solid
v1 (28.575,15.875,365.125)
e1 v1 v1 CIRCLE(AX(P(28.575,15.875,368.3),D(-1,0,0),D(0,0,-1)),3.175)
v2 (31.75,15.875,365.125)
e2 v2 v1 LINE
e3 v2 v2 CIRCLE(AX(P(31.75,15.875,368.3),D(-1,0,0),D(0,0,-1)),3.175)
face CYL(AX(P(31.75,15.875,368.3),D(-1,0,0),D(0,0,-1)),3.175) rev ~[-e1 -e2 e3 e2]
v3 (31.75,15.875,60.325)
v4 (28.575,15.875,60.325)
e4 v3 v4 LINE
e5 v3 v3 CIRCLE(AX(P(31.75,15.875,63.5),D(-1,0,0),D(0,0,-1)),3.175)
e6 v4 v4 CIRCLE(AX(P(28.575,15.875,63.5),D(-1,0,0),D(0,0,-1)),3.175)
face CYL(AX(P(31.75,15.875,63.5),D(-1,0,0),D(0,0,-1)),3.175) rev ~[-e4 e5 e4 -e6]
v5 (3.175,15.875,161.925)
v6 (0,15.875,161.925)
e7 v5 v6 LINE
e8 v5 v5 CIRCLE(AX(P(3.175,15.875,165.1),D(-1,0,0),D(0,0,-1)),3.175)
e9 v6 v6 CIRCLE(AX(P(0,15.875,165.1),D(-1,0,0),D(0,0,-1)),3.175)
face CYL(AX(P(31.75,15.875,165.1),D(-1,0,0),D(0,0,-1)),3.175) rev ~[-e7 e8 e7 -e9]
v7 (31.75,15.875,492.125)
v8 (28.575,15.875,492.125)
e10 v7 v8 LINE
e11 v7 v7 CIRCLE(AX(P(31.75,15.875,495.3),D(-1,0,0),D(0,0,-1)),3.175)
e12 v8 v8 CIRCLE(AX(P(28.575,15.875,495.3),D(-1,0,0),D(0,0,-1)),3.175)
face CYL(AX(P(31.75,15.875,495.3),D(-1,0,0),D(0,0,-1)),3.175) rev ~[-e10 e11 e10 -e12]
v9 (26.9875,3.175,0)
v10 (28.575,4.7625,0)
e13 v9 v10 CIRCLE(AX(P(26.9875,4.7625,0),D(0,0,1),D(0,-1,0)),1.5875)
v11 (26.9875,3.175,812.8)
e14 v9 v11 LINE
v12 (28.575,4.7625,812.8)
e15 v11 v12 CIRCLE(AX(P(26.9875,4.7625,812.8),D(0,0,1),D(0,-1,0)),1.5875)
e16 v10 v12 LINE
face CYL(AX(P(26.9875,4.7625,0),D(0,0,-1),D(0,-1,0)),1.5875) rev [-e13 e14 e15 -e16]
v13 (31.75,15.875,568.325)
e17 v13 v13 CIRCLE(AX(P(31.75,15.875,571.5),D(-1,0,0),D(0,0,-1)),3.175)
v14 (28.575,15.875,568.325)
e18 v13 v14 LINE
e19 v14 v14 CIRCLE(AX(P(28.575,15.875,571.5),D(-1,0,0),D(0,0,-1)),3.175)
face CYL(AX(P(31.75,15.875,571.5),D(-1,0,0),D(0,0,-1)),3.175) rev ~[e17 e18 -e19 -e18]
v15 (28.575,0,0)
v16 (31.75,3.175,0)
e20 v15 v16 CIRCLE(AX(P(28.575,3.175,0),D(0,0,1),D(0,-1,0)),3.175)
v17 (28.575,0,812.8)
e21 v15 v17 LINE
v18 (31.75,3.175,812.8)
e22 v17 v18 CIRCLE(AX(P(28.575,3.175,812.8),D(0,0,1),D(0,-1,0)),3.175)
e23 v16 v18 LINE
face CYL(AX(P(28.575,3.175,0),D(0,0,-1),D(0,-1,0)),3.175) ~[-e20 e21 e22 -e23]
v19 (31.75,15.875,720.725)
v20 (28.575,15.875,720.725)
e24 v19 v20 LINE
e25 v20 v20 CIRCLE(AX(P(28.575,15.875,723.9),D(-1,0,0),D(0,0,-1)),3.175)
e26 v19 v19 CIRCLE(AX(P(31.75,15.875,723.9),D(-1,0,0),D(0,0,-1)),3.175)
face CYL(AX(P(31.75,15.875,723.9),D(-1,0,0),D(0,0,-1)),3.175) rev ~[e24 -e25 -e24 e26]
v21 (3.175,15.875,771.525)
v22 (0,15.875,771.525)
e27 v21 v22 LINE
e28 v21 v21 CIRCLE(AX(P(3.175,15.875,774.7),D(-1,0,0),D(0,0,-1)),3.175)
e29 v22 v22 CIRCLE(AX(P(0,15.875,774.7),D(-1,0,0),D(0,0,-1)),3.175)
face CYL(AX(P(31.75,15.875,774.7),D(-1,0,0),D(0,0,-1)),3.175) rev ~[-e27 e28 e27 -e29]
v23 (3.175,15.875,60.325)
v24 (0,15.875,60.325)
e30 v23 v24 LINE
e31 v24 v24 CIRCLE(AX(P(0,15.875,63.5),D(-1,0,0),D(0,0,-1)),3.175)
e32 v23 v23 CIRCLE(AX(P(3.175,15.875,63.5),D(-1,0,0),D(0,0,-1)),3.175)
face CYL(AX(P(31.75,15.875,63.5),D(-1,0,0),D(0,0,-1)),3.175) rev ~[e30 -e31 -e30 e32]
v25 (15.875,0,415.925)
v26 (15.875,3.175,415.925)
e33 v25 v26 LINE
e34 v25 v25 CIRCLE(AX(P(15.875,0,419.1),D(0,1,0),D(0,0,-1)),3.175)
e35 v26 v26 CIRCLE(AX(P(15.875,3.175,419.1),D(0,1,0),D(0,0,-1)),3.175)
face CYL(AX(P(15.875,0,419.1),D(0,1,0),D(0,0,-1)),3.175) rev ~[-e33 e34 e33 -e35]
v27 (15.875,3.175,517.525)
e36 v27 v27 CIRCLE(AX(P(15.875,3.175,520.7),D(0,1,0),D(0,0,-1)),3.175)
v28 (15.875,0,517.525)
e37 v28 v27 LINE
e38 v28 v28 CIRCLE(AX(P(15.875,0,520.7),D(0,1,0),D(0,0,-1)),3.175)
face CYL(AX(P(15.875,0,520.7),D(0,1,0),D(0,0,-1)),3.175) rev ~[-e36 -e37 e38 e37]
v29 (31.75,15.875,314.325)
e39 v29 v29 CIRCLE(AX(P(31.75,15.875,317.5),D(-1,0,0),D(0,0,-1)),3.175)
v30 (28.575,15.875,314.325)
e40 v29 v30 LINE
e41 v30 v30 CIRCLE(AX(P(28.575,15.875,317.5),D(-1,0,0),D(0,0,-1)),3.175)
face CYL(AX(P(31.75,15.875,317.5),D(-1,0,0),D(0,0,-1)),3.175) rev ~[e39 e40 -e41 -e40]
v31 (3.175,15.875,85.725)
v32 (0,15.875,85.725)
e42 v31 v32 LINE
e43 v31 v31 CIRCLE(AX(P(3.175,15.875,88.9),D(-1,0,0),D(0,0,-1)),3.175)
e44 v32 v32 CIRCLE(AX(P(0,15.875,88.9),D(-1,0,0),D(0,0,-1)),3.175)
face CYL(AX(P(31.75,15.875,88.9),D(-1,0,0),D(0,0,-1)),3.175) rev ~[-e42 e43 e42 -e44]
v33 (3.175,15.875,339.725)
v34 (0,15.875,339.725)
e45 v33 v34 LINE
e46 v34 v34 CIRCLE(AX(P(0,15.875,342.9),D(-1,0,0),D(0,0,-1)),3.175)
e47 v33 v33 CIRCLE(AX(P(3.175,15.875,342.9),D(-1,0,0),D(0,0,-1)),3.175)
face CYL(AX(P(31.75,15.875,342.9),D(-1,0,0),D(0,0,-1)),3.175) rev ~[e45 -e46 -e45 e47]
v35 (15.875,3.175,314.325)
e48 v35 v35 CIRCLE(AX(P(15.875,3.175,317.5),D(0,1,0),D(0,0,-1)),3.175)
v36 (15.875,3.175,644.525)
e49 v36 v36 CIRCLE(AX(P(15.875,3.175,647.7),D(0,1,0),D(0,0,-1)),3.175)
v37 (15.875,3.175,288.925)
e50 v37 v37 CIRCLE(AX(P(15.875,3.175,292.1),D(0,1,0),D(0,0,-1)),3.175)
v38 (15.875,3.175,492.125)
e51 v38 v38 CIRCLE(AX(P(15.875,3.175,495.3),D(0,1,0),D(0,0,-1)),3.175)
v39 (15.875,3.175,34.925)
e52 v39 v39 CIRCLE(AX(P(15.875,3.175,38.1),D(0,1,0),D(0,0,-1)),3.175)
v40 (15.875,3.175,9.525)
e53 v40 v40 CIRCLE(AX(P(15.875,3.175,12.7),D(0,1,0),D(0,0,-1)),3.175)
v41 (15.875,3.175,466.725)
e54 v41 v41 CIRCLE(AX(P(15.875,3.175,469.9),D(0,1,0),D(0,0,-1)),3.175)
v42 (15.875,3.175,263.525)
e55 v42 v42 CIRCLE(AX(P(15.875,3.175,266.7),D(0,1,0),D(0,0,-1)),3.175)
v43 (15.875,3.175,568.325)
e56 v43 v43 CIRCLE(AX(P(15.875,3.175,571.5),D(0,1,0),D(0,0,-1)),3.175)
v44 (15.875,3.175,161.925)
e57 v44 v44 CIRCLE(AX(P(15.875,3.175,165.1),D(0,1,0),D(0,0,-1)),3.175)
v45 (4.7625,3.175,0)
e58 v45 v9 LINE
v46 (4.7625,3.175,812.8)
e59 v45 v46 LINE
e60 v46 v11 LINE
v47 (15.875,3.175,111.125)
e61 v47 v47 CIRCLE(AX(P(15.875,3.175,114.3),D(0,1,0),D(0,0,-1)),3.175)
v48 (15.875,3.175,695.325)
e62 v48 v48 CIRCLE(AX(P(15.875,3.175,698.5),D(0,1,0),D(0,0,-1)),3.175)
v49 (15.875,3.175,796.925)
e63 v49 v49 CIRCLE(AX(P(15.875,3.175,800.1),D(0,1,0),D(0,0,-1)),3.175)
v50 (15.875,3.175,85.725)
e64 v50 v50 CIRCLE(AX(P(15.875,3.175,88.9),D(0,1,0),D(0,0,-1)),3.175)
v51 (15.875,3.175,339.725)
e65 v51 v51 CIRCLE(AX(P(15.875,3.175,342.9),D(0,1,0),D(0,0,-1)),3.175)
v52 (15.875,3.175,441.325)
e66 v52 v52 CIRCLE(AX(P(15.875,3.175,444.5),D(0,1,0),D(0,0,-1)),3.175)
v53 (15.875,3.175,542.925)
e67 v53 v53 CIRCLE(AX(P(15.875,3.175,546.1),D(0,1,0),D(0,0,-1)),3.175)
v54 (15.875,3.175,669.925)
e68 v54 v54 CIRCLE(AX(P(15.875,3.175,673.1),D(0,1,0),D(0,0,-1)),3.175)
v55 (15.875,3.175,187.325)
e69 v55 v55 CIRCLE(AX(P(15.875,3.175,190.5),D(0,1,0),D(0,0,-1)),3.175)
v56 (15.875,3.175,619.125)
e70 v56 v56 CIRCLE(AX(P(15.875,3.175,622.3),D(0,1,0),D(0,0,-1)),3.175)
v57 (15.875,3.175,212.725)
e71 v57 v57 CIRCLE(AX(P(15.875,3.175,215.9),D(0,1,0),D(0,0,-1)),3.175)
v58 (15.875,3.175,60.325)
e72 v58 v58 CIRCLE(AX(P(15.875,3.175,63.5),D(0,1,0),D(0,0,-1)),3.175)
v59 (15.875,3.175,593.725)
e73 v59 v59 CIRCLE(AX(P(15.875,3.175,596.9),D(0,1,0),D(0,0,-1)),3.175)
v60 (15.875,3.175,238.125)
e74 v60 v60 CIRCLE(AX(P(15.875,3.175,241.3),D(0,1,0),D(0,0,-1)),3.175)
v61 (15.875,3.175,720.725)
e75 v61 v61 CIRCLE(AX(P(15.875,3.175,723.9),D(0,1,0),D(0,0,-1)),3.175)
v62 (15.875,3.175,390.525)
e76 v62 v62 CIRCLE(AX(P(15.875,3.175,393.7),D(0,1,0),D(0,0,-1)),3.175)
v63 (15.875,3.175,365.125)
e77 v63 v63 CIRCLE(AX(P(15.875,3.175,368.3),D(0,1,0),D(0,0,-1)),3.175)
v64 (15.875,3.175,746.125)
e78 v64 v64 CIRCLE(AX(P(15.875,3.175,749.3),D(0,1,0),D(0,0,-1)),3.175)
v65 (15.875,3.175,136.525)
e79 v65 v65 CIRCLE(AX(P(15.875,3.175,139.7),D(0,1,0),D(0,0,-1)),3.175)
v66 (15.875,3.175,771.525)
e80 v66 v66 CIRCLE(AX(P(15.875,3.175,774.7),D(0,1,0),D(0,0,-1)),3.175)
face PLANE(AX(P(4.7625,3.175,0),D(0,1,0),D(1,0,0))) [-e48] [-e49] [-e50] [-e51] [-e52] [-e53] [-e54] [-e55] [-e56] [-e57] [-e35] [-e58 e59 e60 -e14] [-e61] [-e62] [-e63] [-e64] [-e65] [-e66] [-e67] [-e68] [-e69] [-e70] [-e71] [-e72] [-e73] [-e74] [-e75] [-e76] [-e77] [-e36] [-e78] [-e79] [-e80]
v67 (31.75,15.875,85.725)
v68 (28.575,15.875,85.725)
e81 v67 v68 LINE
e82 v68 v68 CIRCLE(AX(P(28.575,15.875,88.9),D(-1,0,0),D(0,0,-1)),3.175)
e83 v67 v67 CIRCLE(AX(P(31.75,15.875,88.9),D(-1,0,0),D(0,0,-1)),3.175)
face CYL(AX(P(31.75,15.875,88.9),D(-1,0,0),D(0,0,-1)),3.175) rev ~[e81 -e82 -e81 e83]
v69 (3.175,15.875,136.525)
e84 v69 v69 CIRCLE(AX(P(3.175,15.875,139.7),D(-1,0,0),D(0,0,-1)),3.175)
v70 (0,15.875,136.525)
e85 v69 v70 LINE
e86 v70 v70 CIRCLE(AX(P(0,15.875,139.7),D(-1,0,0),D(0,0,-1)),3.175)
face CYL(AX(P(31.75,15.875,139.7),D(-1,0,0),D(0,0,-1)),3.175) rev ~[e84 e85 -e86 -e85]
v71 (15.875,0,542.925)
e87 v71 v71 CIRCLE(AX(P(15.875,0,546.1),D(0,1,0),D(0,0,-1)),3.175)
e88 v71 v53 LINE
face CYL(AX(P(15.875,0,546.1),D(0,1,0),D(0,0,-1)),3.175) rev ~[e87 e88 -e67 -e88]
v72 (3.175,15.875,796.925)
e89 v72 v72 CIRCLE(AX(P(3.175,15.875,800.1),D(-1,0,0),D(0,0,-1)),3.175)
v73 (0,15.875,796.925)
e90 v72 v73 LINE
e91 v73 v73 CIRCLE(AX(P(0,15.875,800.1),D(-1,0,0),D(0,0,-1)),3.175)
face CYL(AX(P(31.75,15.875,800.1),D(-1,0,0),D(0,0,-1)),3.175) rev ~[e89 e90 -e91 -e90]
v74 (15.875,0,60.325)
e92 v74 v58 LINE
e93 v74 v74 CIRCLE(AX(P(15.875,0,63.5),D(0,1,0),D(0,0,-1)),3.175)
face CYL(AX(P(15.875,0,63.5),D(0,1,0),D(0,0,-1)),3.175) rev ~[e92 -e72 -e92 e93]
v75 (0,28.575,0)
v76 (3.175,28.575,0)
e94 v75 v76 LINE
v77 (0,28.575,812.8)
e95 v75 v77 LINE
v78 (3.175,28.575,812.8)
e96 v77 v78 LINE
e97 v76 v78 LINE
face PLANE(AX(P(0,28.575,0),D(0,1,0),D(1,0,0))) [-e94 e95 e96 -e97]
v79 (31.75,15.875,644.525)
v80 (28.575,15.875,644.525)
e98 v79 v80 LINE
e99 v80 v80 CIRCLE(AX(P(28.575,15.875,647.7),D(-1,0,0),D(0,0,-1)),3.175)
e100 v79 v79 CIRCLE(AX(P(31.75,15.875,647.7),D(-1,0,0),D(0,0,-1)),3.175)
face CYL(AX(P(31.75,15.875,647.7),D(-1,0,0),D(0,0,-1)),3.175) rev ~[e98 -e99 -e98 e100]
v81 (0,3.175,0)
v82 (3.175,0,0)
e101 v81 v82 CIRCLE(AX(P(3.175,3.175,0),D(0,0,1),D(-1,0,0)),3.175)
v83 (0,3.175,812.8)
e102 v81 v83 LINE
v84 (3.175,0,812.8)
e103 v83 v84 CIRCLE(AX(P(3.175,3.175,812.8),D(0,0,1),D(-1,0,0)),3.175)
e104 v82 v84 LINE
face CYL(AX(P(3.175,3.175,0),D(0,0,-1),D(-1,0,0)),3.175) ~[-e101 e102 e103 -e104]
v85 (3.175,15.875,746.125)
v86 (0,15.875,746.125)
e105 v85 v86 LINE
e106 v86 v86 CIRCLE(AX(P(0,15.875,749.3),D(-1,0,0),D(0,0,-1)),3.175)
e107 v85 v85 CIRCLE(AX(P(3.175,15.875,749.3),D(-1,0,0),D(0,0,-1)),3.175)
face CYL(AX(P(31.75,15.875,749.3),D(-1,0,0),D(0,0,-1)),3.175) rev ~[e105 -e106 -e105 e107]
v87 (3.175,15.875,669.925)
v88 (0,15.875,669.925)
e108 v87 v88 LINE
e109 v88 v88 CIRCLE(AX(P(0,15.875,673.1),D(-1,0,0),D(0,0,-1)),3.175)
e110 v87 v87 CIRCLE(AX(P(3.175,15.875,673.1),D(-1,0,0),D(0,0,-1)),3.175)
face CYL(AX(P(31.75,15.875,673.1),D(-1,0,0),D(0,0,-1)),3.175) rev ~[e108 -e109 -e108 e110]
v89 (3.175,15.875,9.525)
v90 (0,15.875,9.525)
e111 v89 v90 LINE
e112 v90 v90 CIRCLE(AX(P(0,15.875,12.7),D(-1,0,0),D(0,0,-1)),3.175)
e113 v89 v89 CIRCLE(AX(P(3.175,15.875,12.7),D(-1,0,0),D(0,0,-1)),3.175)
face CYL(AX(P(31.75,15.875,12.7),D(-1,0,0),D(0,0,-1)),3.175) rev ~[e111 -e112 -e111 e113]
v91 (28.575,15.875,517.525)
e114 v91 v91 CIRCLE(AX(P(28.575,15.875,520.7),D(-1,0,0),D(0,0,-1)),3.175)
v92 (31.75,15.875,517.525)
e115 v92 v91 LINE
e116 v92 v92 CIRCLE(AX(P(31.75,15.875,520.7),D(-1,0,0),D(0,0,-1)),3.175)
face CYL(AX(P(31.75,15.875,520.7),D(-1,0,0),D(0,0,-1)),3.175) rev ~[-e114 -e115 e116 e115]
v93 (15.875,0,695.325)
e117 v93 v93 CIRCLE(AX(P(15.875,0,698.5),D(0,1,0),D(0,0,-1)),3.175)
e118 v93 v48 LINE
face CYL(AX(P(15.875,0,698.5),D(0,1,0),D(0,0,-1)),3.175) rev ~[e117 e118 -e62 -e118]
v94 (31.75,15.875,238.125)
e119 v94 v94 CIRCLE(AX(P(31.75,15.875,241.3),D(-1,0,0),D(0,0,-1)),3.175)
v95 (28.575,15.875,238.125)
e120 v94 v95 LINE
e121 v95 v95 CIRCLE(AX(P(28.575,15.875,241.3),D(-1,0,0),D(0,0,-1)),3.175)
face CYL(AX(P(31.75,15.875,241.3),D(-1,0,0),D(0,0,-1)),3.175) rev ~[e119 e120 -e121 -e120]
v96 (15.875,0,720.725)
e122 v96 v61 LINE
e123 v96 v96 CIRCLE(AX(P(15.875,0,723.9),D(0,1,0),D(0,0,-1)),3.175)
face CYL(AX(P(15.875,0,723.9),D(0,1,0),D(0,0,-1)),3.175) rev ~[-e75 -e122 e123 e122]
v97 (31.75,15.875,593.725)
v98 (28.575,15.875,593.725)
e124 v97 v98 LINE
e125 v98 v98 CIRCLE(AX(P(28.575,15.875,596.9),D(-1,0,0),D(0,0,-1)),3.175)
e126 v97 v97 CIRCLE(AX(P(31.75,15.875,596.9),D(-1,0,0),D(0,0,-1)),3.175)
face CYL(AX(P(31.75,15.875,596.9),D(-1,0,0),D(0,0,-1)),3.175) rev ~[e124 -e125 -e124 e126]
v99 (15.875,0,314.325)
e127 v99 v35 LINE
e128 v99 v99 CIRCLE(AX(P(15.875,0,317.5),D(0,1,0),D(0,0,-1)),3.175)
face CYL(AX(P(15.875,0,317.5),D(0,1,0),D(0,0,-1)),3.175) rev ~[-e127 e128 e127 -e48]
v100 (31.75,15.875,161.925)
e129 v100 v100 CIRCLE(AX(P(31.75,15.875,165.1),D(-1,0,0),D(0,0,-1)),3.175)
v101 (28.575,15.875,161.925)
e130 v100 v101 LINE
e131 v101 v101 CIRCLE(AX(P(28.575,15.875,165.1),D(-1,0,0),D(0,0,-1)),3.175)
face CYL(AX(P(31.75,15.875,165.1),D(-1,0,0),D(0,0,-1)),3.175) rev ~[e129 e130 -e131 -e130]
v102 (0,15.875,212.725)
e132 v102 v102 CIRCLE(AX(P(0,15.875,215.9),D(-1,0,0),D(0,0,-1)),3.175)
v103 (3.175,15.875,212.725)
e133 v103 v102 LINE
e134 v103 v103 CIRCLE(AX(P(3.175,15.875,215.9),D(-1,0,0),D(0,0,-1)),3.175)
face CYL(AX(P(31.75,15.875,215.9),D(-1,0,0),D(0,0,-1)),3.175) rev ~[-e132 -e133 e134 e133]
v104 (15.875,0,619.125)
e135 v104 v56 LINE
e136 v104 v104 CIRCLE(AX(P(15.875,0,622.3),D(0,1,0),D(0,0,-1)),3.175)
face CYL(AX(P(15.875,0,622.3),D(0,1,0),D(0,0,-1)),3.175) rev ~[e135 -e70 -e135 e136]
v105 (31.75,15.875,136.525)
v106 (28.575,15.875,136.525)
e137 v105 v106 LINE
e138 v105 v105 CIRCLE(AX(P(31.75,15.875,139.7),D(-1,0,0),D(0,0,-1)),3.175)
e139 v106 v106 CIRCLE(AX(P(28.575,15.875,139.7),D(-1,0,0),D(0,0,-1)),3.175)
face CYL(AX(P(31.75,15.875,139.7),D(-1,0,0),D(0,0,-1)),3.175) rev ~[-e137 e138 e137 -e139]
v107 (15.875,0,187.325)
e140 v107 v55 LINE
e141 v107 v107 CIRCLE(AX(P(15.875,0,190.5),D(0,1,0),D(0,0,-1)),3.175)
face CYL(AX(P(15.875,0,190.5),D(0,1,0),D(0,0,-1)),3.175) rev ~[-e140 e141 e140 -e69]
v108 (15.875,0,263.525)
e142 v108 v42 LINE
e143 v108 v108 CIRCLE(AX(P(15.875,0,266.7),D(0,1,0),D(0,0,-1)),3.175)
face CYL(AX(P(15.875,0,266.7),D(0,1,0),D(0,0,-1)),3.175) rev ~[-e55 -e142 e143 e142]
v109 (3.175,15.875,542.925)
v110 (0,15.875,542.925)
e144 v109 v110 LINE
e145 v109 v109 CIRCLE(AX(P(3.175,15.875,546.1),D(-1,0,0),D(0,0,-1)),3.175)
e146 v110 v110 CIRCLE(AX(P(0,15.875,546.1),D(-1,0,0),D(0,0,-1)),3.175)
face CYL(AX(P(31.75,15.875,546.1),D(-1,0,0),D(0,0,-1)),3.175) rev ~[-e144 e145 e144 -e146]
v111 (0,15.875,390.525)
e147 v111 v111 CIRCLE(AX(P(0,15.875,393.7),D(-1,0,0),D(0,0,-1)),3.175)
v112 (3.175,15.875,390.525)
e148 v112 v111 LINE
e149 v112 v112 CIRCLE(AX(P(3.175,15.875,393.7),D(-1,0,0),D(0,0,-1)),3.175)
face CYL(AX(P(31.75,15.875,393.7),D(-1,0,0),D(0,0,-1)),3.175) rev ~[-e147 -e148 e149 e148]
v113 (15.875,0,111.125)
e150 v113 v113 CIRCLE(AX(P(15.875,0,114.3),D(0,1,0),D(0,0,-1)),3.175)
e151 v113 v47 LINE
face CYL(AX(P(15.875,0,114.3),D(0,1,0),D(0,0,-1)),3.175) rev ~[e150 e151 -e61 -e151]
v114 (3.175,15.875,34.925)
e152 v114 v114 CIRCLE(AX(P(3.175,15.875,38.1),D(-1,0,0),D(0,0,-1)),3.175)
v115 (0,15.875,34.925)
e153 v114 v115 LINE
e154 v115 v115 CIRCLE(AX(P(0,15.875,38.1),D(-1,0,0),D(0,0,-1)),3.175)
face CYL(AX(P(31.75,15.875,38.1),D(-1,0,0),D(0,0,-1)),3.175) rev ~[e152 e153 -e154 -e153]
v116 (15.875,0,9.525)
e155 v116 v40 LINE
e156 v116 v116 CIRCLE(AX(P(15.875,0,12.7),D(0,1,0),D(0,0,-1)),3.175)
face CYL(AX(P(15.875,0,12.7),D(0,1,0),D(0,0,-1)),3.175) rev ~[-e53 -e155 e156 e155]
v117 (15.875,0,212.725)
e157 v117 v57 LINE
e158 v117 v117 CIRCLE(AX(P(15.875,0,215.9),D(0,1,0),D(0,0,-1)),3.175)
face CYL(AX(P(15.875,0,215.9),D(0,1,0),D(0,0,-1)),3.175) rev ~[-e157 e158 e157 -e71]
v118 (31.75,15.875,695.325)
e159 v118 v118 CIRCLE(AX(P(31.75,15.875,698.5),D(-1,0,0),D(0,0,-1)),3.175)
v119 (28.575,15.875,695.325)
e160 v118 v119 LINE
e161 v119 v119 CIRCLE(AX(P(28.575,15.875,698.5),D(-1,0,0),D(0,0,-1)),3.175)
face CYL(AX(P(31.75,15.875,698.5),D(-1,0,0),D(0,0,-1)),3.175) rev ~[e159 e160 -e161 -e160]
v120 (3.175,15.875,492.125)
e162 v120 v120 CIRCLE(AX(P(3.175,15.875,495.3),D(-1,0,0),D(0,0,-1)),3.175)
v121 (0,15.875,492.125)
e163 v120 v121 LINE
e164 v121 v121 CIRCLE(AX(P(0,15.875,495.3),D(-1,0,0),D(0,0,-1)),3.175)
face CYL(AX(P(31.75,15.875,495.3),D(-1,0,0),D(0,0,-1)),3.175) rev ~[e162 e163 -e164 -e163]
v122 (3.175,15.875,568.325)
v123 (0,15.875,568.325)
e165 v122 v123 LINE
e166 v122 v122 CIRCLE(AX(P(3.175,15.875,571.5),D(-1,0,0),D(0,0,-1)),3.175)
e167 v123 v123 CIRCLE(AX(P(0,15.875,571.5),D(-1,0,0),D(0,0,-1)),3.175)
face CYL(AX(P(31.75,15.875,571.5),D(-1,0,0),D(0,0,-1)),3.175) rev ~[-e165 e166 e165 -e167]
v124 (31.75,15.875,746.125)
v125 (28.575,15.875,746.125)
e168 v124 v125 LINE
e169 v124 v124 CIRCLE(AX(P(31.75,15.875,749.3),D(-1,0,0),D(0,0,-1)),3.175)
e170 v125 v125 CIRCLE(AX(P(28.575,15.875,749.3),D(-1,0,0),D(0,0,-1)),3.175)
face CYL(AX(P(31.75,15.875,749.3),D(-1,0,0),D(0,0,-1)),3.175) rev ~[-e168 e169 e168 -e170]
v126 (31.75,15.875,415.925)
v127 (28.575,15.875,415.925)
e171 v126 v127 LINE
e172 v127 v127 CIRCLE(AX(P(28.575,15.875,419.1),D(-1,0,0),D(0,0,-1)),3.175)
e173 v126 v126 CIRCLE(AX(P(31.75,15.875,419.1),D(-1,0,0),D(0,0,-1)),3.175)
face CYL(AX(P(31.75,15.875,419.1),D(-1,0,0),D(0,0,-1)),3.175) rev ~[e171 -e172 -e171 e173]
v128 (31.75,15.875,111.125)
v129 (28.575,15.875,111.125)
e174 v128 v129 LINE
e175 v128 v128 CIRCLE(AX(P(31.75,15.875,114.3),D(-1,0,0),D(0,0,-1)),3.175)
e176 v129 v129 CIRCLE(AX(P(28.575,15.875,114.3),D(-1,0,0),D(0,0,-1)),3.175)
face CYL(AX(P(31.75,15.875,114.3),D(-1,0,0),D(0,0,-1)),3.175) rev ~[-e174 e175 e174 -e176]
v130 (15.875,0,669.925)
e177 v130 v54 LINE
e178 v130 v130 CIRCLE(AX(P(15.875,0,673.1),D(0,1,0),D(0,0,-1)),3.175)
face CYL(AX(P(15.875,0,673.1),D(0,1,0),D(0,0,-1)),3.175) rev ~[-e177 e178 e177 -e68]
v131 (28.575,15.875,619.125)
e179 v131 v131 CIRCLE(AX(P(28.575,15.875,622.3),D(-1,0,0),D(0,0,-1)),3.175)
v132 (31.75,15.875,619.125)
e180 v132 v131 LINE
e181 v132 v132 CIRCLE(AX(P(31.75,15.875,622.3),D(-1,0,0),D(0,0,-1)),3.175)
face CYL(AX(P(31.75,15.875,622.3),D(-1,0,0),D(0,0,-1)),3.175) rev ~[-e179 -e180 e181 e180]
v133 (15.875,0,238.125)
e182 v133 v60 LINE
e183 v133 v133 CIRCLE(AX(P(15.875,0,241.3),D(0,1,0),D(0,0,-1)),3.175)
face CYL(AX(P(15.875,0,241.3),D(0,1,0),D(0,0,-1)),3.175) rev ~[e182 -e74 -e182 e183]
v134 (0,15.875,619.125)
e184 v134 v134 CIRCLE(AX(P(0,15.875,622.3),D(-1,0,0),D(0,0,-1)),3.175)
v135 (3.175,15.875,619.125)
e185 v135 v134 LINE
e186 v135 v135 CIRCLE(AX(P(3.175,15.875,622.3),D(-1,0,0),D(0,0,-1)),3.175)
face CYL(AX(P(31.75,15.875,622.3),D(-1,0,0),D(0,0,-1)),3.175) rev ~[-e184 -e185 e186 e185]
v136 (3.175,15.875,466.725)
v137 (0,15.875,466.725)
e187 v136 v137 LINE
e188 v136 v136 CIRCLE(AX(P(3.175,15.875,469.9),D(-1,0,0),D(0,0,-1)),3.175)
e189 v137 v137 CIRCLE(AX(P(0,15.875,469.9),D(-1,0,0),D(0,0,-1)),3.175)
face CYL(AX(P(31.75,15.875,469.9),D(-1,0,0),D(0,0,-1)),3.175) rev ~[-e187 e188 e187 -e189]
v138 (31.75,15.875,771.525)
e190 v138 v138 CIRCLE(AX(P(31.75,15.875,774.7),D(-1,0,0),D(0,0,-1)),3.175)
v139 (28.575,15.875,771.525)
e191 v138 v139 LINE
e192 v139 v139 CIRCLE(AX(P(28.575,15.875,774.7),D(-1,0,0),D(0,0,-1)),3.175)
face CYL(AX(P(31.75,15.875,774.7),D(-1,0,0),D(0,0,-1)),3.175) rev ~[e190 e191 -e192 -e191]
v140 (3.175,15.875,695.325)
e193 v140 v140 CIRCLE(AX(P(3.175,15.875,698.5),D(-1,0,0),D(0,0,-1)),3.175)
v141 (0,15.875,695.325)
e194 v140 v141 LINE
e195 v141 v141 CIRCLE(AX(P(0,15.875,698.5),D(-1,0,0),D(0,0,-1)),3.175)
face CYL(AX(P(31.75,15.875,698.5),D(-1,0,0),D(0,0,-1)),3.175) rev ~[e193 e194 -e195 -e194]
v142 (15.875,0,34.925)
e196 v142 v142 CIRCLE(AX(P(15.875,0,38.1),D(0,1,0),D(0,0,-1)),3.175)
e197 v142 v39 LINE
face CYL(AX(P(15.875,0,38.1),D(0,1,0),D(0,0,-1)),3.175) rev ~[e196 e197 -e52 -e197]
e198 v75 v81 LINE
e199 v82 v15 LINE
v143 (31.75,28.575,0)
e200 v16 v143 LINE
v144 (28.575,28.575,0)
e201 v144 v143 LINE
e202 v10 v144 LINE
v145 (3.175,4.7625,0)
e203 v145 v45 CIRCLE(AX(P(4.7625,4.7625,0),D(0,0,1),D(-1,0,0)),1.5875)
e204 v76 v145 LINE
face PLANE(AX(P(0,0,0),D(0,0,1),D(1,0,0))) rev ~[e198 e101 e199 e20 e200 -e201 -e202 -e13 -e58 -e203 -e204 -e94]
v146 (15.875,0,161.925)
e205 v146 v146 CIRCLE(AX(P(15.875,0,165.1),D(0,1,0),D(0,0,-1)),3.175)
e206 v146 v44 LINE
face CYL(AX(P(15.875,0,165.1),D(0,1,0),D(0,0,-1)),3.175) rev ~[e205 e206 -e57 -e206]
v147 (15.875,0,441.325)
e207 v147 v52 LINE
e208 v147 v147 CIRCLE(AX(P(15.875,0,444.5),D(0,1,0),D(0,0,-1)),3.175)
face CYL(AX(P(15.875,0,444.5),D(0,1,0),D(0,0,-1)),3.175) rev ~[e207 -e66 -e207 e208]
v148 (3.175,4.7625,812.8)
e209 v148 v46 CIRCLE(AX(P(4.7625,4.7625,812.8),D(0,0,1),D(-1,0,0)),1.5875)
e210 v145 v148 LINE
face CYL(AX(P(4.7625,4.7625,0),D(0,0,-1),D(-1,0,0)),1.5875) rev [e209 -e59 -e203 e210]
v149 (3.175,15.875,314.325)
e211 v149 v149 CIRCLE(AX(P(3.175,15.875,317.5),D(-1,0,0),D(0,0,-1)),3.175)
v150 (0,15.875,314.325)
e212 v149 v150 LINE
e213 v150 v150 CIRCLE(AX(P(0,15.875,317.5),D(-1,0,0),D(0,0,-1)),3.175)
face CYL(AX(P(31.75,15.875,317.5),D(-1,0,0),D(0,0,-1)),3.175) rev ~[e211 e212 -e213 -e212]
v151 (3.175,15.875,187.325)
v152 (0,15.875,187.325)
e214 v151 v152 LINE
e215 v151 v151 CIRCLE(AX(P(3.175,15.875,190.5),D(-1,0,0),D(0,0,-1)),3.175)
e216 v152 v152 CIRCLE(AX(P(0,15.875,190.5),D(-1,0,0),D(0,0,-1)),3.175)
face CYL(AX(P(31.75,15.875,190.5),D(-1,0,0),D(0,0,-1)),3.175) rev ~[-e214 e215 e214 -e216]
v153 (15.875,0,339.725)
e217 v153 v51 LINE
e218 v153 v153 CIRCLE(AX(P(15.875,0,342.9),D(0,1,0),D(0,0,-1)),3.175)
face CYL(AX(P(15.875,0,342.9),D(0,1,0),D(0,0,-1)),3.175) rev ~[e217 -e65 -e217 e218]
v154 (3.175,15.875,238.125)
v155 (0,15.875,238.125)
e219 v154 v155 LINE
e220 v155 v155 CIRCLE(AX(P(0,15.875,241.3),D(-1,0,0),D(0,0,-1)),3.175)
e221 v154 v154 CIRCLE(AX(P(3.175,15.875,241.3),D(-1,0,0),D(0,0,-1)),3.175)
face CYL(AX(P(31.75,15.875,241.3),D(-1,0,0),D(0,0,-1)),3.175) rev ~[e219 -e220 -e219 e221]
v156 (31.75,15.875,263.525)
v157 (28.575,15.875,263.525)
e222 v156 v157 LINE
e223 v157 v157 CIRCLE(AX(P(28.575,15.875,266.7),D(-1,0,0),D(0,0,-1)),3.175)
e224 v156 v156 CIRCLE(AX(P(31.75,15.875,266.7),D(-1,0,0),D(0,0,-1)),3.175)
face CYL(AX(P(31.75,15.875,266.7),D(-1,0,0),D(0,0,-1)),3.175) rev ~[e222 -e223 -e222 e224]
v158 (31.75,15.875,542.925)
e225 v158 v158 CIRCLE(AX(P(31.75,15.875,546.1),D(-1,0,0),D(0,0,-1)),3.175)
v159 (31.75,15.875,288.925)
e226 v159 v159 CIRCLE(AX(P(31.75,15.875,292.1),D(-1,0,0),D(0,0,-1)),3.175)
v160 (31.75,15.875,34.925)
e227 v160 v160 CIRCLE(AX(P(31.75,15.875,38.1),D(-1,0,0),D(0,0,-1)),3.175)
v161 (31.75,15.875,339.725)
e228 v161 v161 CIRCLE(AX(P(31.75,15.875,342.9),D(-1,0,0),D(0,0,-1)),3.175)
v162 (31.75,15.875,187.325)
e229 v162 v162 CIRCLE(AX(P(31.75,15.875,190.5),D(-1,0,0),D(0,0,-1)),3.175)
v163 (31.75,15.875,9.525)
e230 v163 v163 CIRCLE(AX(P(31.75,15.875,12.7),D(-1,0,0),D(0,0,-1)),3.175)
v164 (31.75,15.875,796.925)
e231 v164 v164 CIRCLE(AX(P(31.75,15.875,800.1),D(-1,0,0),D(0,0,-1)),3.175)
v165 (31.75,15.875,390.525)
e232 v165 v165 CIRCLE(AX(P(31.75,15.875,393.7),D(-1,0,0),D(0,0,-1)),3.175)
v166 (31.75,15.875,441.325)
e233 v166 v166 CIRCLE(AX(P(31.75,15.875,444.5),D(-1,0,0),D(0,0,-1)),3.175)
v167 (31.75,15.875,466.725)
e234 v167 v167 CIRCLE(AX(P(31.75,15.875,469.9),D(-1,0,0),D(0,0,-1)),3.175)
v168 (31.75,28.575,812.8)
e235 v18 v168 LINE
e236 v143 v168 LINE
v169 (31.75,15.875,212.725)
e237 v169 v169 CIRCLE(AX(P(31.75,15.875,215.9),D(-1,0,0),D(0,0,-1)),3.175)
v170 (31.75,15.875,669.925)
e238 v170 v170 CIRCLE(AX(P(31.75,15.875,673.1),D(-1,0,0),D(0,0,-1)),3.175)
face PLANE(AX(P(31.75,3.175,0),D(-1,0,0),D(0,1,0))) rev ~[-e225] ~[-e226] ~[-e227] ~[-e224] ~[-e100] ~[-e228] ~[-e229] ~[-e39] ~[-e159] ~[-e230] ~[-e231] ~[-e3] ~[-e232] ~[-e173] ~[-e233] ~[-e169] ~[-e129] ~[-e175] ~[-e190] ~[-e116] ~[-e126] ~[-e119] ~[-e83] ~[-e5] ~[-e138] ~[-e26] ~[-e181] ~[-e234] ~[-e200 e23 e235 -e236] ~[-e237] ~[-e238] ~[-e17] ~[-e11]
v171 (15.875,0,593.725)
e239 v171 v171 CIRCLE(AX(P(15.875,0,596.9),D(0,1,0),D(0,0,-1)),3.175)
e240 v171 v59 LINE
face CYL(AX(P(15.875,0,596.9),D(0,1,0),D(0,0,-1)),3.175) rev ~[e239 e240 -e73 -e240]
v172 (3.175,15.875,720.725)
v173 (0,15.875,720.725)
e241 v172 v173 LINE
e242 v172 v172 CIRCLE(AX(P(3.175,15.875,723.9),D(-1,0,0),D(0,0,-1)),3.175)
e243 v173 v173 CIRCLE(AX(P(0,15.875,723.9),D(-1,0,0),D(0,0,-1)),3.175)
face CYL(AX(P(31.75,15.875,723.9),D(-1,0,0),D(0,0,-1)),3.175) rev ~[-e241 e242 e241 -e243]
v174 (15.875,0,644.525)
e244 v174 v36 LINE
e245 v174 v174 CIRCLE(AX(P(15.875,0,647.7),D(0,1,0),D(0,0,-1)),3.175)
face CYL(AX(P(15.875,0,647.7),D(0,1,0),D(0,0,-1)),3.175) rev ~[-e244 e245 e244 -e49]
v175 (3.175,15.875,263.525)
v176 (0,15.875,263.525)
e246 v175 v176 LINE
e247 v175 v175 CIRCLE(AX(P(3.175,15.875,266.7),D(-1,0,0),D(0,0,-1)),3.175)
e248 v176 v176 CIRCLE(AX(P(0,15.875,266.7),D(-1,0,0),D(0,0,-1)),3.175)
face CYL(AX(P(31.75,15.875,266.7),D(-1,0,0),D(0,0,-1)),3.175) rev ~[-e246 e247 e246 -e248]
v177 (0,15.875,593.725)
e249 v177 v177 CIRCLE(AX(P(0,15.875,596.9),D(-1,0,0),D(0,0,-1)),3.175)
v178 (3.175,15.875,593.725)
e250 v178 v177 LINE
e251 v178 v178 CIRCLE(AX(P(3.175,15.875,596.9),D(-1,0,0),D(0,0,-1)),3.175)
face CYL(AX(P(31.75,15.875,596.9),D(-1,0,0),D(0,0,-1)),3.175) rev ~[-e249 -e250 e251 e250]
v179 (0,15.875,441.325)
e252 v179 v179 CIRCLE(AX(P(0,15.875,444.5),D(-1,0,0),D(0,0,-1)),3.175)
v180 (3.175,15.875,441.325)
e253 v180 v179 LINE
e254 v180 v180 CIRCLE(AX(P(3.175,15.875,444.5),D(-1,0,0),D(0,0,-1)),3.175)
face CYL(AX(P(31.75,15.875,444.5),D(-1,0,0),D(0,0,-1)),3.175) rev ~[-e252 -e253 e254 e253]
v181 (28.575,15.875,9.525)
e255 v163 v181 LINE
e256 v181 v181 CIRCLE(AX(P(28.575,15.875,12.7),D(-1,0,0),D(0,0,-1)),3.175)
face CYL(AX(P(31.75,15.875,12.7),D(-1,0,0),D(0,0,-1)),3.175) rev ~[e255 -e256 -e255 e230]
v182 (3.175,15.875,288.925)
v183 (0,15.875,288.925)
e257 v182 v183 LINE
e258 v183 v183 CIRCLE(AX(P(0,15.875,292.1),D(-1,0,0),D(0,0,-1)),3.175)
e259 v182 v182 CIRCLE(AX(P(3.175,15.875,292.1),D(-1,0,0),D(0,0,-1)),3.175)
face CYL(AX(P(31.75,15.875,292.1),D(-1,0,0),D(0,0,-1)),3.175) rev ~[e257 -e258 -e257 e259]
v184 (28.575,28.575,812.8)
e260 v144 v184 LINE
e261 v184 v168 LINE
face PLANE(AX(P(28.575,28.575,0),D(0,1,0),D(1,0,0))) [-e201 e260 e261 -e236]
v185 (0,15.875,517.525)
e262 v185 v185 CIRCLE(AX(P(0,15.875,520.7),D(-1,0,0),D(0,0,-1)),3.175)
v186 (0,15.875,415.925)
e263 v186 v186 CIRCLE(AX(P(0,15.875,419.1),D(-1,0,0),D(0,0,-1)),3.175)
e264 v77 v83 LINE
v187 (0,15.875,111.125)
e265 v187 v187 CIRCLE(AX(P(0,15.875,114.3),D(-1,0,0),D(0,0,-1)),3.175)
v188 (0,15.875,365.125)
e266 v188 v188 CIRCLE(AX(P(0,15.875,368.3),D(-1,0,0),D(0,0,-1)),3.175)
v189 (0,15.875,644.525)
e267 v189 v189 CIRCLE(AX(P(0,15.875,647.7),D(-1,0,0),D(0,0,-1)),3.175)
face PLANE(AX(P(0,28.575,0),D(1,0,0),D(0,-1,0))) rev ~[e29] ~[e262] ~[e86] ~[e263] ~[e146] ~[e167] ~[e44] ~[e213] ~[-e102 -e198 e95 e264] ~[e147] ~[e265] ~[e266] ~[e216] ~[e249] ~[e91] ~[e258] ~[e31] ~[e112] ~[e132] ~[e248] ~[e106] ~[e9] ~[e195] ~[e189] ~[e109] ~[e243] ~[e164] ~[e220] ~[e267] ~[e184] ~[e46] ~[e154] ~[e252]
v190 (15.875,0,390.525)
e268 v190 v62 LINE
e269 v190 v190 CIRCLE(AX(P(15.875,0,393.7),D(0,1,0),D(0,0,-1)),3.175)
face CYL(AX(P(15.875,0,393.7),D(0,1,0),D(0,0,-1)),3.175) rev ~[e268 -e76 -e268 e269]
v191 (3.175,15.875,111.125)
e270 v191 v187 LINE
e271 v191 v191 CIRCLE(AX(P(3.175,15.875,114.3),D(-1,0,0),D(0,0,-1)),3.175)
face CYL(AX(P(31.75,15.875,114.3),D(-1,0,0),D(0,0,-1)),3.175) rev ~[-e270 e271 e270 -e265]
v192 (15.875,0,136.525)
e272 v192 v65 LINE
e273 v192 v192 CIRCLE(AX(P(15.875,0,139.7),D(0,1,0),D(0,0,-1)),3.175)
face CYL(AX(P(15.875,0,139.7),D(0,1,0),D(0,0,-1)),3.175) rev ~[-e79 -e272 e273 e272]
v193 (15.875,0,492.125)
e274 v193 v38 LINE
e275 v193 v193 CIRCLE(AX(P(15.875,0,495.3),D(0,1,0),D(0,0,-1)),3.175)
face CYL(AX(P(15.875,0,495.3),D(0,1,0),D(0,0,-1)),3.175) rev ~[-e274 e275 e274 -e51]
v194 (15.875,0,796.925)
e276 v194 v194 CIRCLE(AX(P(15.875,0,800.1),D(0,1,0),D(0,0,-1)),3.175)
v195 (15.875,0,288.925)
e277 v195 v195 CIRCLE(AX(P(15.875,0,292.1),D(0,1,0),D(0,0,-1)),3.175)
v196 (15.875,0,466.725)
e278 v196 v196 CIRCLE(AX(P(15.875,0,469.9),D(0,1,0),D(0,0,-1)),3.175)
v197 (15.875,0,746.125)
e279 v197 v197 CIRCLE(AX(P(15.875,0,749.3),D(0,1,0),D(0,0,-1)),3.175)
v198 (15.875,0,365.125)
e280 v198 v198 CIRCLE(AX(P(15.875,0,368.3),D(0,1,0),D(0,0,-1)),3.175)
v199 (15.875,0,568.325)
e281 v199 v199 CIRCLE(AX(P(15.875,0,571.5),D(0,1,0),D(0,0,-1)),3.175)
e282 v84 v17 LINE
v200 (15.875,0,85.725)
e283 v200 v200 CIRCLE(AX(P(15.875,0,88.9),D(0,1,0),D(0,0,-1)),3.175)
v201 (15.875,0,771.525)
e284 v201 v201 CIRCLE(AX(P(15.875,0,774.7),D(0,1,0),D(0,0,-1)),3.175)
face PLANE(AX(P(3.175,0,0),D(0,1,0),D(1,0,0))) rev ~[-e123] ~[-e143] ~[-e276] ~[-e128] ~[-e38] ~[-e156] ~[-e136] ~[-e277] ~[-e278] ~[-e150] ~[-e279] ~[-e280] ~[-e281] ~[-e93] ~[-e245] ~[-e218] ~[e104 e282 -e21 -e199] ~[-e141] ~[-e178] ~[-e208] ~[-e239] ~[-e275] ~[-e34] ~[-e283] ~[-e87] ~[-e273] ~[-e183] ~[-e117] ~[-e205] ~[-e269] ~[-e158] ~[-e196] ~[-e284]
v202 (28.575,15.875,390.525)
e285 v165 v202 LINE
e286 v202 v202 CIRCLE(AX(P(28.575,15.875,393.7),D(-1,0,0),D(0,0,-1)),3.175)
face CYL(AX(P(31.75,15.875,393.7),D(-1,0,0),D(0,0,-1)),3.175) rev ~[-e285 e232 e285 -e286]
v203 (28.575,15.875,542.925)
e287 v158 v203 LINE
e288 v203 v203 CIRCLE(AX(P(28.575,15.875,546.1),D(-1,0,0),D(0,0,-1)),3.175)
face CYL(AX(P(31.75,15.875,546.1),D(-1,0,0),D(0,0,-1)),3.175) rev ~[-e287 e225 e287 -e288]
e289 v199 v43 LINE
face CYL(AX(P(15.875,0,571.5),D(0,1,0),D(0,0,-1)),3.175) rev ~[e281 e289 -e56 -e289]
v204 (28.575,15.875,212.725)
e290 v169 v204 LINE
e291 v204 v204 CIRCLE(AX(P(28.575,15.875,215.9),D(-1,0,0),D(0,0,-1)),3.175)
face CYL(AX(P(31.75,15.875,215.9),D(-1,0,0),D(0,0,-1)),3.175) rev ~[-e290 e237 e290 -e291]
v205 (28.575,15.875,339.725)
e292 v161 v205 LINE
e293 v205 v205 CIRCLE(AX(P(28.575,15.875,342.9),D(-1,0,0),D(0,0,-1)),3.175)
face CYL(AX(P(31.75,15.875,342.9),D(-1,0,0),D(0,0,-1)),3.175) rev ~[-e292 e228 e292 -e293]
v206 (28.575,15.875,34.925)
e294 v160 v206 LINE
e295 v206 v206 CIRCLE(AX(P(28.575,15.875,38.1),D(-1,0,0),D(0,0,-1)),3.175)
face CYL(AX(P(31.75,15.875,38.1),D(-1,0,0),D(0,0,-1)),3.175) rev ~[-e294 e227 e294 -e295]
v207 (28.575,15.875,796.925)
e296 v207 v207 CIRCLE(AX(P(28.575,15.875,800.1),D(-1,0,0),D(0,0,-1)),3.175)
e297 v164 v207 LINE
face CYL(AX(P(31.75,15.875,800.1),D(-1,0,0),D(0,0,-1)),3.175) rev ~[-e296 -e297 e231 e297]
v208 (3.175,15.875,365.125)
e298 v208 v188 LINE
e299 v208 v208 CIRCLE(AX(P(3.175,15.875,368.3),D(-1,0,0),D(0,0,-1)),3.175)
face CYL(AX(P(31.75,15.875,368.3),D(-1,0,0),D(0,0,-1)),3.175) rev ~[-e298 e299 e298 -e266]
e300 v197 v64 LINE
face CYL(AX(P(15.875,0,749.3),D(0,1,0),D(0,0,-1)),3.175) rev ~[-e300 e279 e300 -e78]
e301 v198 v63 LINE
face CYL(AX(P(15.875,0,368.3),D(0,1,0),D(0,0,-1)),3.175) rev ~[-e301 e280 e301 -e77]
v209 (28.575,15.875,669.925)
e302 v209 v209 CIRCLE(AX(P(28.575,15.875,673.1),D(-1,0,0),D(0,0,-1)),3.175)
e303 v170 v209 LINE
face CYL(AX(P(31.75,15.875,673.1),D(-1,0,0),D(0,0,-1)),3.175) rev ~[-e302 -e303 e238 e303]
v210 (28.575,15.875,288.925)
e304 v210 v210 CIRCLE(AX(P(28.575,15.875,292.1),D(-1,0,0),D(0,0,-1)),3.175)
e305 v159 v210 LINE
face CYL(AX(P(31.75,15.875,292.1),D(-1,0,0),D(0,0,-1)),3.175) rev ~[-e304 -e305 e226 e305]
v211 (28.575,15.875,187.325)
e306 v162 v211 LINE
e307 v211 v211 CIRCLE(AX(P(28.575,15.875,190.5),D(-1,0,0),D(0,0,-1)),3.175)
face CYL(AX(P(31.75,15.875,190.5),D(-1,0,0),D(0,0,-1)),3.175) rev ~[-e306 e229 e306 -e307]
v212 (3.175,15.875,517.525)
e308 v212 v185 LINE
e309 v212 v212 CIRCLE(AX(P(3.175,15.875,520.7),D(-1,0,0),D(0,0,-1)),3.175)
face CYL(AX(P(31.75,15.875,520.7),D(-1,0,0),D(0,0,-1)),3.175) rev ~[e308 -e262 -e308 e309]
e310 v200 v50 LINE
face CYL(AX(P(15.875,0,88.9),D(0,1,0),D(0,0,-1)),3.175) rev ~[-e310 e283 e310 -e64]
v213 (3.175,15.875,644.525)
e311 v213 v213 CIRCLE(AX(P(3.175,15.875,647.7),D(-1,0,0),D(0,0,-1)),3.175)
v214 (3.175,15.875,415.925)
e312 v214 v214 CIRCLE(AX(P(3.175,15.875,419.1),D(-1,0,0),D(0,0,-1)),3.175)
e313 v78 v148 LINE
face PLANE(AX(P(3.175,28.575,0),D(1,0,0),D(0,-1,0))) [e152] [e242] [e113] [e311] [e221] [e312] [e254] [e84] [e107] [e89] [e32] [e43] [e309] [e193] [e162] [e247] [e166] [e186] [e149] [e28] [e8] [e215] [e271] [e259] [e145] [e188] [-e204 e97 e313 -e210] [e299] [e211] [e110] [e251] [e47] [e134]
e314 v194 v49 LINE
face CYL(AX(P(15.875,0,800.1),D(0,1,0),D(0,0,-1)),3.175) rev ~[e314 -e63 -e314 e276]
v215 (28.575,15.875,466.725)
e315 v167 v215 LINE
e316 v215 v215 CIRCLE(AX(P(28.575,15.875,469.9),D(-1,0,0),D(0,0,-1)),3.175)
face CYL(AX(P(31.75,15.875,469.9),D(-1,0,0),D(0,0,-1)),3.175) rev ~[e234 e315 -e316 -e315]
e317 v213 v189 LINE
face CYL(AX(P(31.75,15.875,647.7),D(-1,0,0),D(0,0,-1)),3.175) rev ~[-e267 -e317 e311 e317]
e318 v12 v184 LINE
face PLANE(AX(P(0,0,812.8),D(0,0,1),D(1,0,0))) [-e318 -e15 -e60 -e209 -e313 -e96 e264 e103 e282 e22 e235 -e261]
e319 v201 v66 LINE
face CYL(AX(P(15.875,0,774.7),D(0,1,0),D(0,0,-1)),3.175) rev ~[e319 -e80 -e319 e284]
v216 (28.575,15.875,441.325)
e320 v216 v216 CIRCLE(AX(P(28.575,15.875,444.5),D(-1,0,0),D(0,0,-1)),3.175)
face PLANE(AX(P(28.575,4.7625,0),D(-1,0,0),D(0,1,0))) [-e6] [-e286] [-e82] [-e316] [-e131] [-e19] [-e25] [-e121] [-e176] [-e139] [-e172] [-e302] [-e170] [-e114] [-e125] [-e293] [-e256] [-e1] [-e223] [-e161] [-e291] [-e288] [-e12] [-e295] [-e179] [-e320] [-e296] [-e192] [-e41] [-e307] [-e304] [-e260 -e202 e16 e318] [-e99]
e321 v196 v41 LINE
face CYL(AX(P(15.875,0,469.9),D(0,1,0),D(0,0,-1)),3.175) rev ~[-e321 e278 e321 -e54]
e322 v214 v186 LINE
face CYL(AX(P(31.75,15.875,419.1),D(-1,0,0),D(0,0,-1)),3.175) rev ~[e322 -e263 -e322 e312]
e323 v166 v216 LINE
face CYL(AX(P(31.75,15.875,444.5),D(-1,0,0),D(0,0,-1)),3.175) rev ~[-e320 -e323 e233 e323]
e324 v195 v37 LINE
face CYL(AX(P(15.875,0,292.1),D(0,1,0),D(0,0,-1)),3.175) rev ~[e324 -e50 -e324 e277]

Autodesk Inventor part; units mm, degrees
ref_plane "YZ Plane" through (0, 0, 0) normal (1, 0, 0) x (0, 1, 0)
ref_plane "XZ Plane" through (0, 0, 0) normal (0, 1, 0) x (-1, 0, 0)
ref_plane "XY Plane" through (0, 0, 0) normal (0, 0, 1) x (1, 0, 0)
sketch "Sketch1" plane through (0, 0, 0) normal (0, 0, 1) x (1, 0, 0)
  line L0 (3.175, 0) -> (28.575, 0)
  line L1 (31.75, 3.175) -> (31.75, 28.575)
  line L2 (0, 28.575) -> (0, 3.175)
  line L3 (4.7625, 3.175) -> (26.9875, 3.175)
  line L4 (28.575, 4.7625) -> (28.575, 28.575)
  line L5 (3.175, 28.575) -> (3.175, 4.7625)
  line L6 (0, 28.575) -> (3.175, 28.575)
  line L7 (28.575, 28.575) -> (31.75, 28.575)
  arc A0 (3.175, 4.7625) -> (4.7625, 3.175) centre (4.7625, 4.7625) ccw
  arc A1 (26.9875, 3.175) -> (28.575, 4.7625) centre (26.9875, 4.7625) ccw
  arc A2 (0, 3.175) -> (3.175, 0) centre (3.175, 3.175) ccw
  arc A3 (28.575, 0) -> (31.75, 3.175) centre (28.575, 3.175) ccw
  point P0 (0, 0)
  point P1 (31.75, 0)
  dimension "d0" = 31.75
  dimension "d1" = 28.575
  dimension "d4" = 1.5875
  dimension "d5" = 3.175
extrude "Extrusion1" add sketch "Sketch1" along normal blind 812.8
sketch "Sketch2" plane through (31.75, 3.175, 0) normal (1, 0, 0) x (0, 0, -1)
  line L0 (-812.8, 0) -> (-812.8, 25.4) projected
  line L1 (0, 0) -> (-812.8, 0) projected
  line L2 (-812.8, 12.7) -> (-800.1, 12.7)
  point P0 (0, -3.175)
  dimension "d8" = 12.7
hole "Hole1" at (31.75, 15.875, 800.1) direction (-1, 0, 0) diameter 6.35 end through all
pattern_linear "Rectangular Pattern1" count 32 spacing 25.4 along (0, 0, -1) of "Hole1"
sketch "Sketch3" plane through (3.175, 0, 0) normal (0, -1, 0) x (1, 0, 0)
  line L0 (0, 812.8) -> (25.4, 812.8) projected
  line L1 (0, 0) -> (0, 812.8) projected
  line L2 (12.7, 812.8) -> (12.7, 800.1)
  point P0 (-3.175, 0)
  dimension "d19" = 12.7
hole "Hole2" at (15.875, 0, 800.1) direction (0, 1, 0) diameter 6.35 end through all
pattern_linear "Rectangular Pattern2" count 32 spacing 25.4 along (0, 0, -1) of "Hole2"
properties part number "32 in bar"
